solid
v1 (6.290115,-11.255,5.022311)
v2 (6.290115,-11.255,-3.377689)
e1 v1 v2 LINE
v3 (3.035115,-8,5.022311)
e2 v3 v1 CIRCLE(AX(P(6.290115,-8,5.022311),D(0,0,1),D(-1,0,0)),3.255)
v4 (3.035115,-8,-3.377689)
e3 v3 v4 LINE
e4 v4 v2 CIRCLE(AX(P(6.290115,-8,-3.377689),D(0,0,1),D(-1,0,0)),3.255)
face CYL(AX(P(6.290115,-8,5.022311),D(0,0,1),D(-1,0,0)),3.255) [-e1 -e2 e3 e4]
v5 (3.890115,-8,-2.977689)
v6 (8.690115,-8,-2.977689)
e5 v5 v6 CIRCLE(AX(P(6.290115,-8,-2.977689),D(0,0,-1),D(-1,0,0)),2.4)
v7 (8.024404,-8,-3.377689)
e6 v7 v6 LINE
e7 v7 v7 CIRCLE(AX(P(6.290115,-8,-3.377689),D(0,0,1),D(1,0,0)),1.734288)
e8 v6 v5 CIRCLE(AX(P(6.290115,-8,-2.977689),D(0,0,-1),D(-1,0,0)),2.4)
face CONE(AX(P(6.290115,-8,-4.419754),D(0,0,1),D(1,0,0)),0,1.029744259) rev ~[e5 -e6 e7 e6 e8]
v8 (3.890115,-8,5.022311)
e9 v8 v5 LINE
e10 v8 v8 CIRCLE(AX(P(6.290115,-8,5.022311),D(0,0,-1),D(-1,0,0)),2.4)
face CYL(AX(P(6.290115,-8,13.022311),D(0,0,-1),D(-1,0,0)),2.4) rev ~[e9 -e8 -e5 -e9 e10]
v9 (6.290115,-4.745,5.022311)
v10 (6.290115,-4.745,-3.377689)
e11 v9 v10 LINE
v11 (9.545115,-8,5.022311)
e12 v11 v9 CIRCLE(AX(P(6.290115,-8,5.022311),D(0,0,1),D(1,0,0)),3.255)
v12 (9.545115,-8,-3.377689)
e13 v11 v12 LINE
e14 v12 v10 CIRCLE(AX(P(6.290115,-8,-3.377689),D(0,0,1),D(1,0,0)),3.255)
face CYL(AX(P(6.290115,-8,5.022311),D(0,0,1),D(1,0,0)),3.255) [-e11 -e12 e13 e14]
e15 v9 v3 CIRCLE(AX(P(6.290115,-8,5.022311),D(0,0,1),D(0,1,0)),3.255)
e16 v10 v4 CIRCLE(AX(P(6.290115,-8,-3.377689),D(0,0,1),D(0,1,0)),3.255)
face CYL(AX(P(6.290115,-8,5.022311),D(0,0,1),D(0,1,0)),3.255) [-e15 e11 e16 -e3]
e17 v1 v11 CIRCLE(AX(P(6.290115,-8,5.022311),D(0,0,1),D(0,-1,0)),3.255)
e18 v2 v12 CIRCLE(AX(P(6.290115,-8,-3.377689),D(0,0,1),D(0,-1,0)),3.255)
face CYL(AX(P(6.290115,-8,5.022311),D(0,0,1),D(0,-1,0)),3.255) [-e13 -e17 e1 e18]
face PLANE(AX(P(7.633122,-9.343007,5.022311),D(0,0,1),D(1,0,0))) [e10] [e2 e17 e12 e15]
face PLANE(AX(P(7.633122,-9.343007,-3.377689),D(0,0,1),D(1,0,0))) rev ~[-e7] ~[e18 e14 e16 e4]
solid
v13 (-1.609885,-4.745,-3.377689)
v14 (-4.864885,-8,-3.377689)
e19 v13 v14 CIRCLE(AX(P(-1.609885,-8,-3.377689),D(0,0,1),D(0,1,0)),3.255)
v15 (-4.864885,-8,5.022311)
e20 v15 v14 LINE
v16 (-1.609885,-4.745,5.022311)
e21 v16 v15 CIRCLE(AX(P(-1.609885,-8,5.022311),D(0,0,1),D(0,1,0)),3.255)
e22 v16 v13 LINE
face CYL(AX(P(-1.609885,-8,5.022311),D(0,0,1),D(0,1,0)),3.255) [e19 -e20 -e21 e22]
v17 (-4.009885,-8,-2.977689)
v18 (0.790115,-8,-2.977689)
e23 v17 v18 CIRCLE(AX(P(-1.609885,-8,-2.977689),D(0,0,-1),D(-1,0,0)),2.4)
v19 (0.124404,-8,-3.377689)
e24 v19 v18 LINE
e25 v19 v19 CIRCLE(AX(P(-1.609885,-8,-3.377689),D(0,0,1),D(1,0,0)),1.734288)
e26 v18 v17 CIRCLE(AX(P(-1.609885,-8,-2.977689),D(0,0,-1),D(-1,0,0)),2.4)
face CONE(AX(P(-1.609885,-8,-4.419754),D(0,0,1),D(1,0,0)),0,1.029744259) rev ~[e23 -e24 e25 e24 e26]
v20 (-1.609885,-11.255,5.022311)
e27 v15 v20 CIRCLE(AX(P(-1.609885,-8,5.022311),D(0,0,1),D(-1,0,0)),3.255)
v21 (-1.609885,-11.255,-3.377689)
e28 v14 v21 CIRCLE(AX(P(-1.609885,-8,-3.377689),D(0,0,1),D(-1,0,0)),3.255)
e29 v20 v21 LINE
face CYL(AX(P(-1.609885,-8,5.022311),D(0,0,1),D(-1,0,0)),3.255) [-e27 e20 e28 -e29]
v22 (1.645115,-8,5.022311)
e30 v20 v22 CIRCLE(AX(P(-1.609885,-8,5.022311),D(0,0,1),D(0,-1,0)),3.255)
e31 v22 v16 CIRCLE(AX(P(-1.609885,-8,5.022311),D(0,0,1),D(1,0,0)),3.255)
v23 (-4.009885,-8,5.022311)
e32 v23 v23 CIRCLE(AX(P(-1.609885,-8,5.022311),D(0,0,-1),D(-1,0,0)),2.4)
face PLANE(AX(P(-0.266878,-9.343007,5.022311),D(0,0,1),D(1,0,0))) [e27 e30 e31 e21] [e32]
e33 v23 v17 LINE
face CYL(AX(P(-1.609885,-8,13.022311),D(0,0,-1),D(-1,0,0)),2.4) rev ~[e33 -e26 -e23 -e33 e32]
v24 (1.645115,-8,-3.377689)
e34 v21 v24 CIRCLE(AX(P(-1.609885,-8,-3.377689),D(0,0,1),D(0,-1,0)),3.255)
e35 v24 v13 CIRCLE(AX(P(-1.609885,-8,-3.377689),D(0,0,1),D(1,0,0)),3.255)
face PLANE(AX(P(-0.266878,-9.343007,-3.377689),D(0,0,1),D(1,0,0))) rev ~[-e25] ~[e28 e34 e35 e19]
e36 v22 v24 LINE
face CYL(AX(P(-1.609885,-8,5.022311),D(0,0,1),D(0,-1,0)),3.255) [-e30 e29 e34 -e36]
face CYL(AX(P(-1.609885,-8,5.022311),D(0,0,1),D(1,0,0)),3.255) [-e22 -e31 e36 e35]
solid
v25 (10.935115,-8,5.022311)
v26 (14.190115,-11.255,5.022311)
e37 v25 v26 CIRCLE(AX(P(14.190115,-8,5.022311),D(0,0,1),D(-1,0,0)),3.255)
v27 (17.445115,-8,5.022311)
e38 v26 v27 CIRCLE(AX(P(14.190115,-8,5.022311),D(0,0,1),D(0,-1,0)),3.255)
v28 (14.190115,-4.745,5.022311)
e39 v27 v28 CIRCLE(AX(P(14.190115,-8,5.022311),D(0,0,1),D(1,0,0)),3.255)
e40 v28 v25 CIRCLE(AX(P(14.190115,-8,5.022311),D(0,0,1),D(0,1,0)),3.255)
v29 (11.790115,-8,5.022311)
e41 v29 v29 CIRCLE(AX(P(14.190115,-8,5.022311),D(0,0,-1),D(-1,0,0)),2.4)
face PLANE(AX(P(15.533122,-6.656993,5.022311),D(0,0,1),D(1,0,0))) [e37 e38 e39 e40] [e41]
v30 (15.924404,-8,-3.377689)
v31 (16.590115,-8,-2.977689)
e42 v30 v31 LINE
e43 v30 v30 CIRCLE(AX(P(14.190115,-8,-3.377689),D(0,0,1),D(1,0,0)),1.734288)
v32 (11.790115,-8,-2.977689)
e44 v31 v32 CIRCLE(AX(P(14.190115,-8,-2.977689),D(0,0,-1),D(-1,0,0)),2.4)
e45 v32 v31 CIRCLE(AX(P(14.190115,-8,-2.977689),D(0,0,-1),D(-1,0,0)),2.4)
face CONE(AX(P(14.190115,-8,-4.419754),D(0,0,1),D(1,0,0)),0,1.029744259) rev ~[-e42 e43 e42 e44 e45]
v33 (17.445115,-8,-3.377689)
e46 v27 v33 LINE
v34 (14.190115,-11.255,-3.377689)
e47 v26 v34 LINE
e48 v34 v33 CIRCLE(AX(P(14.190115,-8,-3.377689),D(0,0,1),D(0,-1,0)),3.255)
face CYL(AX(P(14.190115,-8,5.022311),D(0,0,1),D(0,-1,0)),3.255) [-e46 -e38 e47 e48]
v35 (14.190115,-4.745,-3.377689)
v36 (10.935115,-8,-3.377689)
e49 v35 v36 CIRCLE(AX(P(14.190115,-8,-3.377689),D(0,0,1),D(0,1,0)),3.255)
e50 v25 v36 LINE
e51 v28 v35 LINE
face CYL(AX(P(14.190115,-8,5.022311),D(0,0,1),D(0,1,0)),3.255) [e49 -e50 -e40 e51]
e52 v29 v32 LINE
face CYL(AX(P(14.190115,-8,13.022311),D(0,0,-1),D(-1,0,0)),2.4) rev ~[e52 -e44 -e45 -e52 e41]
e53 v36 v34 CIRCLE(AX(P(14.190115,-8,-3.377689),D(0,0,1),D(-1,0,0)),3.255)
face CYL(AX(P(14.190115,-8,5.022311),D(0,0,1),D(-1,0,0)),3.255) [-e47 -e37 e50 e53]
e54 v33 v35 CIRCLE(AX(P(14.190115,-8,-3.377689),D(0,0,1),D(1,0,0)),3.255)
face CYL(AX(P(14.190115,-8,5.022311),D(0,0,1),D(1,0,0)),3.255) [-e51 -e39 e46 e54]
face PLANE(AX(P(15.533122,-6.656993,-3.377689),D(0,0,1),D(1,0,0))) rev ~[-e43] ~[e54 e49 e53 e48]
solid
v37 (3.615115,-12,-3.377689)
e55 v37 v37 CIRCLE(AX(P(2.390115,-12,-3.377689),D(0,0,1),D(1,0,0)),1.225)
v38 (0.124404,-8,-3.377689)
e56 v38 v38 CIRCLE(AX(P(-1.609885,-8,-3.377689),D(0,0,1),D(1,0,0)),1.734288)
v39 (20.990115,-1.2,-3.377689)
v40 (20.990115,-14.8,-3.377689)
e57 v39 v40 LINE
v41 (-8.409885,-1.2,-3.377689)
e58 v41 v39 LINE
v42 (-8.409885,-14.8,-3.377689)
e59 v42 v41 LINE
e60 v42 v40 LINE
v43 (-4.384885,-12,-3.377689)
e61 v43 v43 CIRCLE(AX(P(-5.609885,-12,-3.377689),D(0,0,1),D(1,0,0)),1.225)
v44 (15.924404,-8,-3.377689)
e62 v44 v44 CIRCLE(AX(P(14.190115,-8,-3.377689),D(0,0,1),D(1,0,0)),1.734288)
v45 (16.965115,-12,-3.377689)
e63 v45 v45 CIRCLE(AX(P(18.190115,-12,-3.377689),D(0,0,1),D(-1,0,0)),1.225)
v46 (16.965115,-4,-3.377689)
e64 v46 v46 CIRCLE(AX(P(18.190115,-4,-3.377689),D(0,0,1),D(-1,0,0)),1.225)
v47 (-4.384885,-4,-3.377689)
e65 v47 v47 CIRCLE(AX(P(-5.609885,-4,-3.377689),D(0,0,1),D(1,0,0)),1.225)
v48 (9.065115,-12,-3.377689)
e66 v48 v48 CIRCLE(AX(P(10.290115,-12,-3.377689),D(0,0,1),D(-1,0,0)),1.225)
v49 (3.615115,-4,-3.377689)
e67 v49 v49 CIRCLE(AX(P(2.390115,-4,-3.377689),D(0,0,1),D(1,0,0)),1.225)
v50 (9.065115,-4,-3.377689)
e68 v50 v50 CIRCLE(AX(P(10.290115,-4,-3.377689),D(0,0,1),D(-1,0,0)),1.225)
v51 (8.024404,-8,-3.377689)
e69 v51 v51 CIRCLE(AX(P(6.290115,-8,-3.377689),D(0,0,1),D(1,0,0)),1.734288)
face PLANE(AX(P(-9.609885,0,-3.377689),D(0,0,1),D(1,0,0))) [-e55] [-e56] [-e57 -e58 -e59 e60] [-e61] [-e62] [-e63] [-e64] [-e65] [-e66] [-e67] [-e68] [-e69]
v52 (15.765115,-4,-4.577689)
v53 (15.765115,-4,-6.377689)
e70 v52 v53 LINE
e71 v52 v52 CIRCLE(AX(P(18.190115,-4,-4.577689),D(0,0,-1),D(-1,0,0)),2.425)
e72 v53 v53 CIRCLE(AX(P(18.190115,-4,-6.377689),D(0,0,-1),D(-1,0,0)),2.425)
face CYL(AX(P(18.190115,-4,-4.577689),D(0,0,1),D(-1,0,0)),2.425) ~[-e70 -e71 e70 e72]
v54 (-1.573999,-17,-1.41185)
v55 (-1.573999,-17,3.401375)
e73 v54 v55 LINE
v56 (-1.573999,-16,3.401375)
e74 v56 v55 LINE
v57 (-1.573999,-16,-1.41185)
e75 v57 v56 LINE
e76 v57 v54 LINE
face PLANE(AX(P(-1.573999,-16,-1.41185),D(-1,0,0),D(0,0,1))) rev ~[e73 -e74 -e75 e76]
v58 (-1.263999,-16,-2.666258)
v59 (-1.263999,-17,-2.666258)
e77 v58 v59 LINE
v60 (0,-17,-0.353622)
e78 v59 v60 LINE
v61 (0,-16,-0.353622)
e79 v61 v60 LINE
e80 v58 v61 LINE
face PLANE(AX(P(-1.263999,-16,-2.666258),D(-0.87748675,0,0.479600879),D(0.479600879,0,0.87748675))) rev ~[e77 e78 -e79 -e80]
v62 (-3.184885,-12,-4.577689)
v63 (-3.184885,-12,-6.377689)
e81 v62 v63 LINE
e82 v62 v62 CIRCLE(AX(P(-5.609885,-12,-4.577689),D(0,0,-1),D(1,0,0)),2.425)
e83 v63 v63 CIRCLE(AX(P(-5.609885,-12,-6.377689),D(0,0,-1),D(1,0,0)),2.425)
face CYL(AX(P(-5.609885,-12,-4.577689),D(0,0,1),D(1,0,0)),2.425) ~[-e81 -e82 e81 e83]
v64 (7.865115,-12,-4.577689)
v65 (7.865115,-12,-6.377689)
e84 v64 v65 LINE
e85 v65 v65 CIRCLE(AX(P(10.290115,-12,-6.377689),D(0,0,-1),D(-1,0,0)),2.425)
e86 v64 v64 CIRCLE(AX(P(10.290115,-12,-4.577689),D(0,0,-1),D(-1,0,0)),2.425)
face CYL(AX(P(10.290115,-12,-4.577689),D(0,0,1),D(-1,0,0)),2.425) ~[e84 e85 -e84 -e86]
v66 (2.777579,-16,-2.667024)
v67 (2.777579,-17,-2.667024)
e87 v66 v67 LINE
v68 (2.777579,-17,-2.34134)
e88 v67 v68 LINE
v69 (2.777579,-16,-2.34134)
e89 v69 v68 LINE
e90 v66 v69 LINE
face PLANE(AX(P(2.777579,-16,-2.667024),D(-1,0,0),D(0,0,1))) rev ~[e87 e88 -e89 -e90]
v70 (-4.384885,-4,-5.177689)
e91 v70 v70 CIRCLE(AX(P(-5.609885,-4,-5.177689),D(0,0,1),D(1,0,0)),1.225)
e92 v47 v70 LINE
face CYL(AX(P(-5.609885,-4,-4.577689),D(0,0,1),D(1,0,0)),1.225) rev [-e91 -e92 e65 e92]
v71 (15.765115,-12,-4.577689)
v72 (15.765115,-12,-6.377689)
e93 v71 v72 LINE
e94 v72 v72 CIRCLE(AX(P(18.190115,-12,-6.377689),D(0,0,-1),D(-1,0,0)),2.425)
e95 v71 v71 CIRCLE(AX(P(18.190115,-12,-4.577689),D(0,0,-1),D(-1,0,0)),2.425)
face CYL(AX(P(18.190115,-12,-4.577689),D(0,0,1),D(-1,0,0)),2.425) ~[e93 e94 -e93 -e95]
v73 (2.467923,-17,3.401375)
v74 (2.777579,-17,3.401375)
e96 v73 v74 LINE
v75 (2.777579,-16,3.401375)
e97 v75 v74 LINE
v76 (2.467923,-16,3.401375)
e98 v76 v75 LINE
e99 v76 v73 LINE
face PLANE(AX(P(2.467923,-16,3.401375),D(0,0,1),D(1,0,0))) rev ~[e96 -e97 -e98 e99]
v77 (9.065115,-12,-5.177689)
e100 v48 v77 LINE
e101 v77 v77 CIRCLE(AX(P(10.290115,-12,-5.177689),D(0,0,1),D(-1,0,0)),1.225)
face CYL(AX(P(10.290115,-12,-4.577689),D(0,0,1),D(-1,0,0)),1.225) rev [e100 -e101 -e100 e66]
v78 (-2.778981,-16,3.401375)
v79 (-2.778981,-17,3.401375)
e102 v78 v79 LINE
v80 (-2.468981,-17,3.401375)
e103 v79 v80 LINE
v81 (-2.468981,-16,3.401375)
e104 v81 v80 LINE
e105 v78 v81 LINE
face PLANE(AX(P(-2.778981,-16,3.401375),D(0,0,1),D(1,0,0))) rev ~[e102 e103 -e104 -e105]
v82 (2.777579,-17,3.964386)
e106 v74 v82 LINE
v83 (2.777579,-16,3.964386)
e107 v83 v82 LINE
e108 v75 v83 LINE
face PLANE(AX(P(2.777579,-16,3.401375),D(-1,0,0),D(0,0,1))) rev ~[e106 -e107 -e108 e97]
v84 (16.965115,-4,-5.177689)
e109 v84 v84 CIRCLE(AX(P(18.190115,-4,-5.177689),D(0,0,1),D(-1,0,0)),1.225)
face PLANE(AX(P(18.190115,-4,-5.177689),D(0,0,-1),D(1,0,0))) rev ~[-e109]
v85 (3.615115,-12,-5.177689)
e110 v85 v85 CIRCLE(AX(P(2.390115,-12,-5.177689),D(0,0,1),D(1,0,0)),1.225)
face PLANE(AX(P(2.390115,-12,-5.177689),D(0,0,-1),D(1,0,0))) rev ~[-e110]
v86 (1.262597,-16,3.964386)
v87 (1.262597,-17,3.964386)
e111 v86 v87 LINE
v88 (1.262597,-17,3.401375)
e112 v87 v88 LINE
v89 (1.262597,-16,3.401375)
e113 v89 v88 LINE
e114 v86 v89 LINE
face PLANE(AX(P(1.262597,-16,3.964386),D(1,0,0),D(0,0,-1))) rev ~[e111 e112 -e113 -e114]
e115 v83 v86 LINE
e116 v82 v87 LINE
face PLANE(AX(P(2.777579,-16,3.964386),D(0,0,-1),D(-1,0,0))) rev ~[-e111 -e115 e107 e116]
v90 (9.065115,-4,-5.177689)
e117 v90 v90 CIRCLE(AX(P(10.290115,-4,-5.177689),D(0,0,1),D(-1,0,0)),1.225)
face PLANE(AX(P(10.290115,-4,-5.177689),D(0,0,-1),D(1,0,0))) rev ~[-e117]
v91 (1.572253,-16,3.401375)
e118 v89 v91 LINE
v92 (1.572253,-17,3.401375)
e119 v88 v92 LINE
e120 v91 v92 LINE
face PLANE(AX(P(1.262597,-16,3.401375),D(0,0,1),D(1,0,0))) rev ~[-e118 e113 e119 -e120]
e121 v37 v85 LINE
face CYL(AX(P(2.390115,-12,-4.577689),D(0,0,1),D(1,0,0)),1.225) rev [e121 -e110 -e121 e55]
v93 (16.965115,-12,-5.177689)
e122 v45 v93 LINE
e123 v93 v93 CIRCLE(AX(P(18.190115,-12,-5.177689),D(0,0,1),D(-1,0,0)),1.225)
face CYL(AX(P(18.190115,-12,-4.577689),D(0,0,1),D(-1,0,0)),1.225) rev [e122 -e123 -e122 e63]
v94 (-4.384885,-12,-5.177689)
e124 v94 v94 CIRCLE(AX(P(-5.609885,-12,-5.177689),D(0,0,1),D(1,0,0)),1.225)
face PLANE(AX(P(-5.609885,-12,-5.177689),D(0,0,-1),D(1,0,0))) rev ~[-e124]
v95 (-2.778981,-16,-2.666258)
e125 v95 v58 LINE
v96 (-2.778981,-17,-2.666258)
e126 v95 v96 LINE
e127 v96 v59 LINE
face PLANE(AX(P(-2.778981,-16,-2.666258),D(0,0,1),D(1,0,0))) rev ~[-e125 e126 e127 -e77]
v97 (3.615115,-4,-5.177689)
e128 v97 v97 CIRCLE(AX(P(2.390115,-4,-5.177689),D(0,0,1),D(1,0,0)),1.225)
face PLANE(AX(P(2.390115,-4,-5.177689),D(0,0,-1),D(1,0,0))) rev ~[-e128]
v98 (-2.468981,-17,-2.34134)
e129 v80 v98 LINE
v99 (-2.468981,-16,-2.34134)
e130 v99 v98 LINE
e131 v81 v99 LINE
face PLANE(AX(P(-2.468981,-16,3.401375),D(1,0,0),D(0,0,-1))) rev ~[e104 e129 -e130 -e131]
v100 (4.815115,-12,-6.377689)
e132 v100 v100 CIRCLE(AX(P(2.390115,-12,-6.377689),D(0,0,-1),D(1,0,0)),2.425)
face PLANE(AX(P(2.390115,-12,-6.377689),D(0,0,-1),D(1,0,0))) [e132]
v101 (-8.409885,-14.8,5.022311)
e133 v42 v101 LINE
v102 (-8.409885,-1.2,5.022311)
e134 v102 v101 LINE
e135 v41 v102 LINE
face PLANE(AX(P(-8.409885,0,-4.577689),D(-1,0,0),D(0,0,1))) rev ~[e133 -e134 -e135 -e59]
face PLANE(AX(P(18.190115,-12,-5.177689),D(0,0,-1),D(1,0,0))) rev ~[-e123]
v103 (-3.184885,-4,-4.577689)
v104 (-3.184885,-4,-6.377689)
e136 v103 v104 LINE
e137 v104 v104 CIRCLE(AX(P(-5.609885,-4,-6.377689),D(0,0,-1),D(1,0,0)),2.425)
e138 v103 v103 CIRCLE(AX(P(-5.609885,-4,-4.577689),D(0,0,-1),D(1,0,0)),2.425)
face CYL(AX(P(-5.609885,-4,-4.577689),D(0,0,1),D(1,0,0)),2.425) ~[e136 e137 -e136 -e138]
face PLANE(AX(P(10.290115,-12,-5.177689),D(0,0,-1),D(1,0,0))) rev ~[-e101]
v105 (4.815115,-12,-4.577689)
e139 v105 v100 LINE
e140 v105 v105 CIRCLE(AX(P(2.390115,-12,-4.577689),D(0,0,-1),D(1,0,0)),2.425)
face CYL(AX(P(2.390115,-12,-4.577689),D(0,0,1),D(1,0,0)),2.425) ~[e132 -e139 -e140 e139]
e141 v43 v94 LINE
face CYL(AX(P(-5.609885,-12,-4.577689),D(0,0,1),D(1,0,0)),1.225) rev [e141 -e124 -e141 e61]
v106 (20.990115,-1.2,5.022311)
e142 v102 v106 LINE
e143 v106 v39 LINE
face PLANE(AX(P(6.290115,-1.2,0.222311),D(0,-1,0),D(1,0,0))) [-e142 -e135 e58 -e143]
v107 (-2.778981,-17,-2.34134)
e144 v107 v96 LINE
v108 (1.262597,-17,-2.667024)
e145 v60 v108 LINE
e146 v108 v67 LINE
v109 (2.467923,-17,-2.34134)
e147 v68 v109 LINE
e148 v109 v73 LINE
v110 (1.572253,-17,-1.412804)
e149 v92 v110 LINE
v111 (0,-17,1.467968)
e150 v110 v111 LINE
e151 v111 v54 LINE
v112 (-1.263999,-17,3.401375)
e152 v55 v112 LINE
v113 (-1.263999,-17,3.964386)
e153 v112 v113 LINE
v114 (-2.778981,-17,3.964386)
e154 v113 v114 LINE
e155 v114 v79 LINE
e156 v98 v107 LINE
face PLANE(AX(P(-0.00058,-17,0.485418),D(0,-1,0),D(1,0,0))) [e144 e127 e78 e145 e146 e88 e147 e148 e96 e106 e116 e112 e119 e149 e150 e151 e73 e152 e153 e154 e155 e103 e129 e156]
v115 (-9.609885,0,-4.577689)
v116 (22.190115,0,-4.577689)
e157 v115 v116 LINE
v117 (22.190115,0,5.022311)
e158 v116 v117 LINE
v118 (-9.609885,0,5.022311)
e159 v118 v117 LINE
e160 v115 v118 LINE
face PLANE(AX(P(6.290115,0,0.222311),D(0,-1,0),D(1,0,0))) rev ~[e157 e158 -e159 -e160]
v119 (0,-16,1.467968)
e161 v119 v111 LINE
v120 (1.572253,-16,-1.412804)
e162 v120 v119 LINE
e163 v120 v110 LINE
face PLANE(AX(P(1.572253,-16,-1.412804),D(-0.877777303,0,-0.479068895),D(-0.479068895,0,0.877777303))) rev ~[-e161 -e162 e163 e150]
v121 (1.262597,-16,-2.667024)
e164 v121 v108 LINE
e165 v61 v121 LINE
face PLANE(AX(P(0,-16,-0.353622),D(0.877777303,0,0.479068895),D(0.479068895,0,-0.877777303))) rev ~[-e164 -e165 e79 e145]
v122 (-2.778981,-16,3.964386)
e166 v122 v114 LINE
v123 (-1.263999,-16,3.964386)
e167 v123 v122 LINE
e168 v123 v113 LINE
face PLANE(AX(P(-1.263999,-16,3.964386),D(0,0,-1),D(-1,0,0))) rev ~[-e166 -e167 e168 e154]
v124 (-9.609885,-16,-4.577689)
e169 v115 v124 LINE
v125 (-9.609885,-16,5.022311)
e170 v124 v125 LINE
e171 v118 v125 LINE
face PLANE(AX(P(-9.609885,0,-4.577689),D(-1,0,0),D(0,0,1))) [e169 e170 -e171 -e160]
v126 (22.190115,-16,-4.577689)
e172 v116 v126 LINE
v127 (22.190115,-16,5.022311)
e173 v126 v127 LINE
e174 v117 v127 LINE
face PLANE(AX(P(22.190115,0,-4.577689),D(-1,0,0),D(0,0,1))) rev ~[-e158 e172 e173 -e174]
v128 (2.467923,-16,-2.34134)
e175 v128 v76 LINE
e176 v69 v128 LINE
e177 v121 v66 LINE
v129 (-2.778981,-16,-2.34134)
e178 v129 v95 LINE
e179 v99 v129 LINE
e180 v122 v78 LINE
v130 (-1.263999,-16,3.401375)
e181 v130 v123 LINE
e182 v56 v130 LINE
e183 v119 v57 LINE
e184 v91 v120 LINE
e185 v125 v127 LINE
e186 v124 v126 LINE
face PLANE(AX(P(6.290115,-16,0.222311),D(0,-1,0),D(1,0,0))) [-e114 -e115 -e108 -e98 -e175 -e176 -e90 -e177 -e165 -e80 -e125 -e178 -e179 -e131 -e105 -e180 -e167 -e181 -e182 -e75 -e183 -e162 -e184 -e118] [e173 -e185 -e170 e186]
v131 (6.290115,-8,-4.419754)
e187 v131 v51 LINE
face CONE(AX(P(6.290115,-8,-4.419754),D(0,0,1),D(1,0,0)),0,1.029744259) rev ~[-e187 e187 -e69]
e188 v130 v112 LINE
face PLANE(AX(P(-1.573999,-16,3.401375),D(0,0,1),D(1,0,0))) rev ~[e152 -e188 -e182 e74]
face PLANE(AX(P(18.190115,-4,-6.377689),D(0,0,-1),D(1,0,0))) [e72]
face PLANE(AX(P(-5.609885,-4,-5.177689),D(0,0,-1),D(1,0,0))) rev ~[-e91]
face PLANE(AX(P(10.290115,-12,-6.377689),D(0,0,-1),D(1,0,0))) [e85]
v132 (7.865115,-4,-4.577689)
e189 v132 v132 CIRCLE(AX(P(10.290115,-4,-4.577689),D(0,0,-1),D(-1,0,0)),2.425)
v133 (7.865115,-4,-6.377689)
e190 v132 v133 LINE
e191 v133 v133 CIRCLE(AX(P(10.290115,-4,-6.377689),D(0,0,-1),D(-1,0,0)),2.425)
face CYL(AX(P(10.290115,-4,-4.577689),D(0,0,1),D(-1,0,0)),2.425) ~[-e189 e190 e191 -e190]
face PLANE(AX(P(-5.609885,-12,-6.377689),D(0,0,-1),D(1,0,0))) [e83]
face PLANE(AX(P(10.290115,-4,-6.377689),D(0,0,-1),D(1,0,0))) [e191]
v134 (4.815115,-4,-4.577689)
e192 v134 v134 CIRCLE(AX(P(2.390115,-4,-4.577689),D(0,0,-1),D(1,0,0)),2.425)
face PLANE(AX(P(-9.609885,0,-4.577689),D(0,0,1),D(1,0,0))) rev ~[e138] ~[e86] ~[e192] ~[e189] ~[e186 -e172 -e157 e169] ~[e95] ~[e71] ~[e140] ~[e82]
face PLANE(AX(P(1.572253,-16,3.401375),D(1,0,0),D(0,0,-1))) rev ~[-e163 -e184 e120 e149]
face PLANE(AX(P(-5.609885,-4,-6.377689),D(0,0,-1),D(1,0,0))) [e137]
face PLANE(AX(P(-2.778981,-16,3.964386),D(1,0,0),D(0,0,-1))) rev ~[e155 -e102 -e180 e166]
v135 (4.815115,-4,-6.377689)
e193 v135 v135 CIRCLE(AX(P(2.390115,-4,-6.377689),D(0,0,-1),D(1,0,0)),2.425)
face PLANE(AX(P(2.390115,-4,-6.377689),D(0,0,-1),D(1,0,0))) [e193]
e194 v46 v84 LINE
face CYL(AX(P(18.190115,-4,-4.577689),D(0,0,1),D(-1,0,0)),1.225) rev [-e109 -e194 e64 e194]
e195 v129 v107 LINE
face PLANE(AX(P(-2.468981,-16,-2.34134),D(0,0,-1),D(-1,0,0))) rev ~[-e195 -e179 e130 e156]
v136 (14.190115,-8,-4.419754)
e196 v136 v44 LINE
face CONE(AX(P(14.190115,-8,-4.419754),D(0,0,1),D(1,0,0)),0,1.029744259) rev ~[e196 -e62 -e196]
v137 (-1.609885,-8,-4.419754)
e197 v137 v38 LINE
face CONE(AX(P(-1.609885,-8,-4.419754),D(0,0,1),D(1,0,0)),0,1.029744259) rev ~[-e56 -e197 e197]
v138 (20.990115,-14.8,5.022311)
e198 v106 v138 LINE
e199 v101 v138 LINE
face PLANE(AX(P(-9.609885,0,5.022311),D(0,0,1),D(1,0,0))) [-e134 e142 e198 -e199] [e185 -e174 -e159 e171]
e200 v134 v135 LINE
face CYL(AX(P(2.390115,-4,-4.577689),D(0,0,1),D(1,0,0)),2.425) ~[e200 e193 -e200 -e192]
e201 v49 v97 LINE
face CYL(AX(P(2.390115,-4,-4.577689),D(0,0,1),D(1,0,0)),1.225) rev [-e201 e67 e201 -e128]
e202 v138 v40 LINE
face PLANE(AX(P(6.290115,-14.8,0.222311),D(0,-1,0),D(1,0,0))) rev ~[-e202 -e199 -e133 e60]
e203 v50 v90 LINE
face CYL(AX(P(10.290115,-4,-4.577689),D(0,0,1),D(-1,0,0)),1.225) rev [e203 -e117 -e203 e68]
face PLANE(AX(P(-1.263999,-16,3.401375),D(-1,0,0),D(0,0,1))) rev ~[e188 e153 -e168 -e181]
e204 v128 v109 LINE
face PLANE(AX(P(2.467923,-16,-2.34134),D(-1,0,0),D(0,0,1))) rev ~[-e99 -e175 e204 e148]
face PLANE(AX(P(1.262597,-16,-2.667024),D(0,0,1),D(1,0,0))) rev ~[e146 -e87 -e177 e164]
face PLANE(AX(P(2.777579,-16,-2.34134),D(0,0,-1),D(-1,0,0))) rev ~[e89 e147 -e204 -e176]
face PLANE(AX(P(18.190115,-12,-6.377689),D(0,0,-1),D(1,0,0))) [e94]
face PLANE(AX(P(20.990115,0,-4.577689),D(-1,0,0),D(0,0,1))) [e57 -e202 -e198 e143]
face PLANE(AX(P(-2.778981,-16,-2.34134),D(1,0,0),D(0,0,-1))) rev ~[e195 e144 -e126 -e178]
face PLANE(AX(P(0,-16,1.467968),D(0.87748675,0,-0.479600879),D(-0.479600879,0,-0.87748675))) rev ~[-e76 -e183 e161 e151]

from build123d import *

# Parameters (mm, degrees)
F0_W       = 31.8
F0_H       = 9.6
F1_DEPTH   = 16
F3_DEPTH   = 1.8
F5_T       = -1.2
F6_DEPTH   = 8.4
F7_D       = 4.8
F7_DEPTH   = 8
F7_TIP     = 1.4420654857
F7_2_D     = 4.8
F7_2_DEPTH = 8
F7_2_TIP   = 1.4420654857
F8_D       = 4.8
F8_DEPTH   = 8
F8_TIP     = 1.4420654857
F8_2_D     = 4.8
F8_2_DEPTH = 8
F8_2_TIP   = 1.4420654857
F9_D       = 4.8
F9_DEPTH   = 8
F9_TIP     = 1.4420654857
F9_2_D     = 4.8
F9_2_DEPTH = 8
F9_2_TIP   = 1.4420654857
F11_DEPTH  = 1


with BuildPart() as f1:
    # F0 (on Front) → F1 (new body)
    with BuildSketch(Plane.XZ):
        with Locations((6.290115416, 0.2223112665)):
            Rectangle(F0_W, F0_H)
    extrude(amount=F1_DEPTH)

    # F2 (on face) → F3 (join)
    with BuildSketch(Plane(origin=(0, 0, -4.5776887335), x_dir=(1, 0, 0), z_dir=(0, 0, -1))):
        with BuildLine():
            ThreePointArc((20.615115416, 4), (18.190115416, 6.425), (15.765115416, 4))
            ThreePointArc((15.765115416, 4), (18.190115416, 1.575), (20.615115416, 4))
        make_face()
        with BuildLine():
            ThreePointArc((12.715115416, 4), (10.290115416, 6.425), (7.865115416, 4))
            ThreePointArc((7.865115416, 4), (10.290115416, 1.575), (12.715115416, 4))
        make_face()
        with BuildLine():
            ThreePointArc((-0.034884584, 4), (2.390115416, 1.575), (4.815115416, 4))
            ThreePointArc((4.815115416, 4), (2.390115416, 6.425), (-0.034884584, 4))
        make_face()
        with BuildLine():
            ThreePointArc((-8.034884584, 4), (-5.609884584, 1.575), (-3.184884584, 4))
            ThreePointArc((-3.184884584, 4), (-5.609884584, 6.425), (-8.034884584, 4))
        make_face()
        with BuildLine():
            ThreePointArc((-8.034884584, 12), (-5.609884584, 9.575), (-3.184884584, 12))
            ThreePointArc((-3.184884584, 12), (-5.609884584, 14.425), (-8.034884584, 12))
        make_face()
        with BuildLine():
            ThreePointArc((-0.034884584, 12), (2.390115416, 9.575), (4.815115416, 12))
            ThreePointArc((4.815115416, 12), (2.390115416, 14.425), (-0.034884584, 12))
        make_face()
        with BuildLine():
            ThreePointArc((12.715115416, 12), (10.290115416, 14.425), (7.865115416, 12))
            ThreePointArc((7.865115416, 12), (10.290115416, 9.575), (12.715115416, 12))
        make_face()
        with BuildLine():
            ThreePointArc((20.615115416, 12), (18.190115416, 14.425), (15.765115416, 12))
            ThreePointArc((15.765115416, 12), (18.190115416, 9.575), (20.615115416, 12))
        make_face()
    extrude(amount=F3_DEPTH)

    # F5
    f5_openings = [f1.faces().sort_by_distance(p)[0] for p in [
        (6.290115, -8, 5.022311),
    ]]
    offset(amount=F5_T, openings=f5_openings, kind=Kind.INTERSECTION)

    # F7
    with Locations(Plane.XY.offset(5.0223112665)):
        with Locations((14.190115416, -8)):
            Hole(F7_D / 2, depth=F7_DEPTH)
            with Locations((0, 0, -(F7_DEPTH + F7_TIP / 2))):  # 118° drill point
                Cone(0, F7_D / 2, F7_TIP, mode=Mode.SUBTRACT)

    # F8
    with Locations(Plane.XY.offset(5.0223112665)):
        with Locations((6.290115416, -8)):
            Hole(F8_D / 2, depth=F8_DEPTH)
            with Locations((0, 0, -(F8_DEPTH + F8_TIP / 2))):  # 118° drill point
                Cone(0, F8_D / 2, F8_TIP, mode=Mode.SUBTRACT)

    # F9
    with Locations(Plane.XY.offset(5.0223112665)):
        with Locations((-1.609884584, -8)):
            Hole(F9_D / 2, depth=F9_DEPTH)
            with Locations((0, 0, -(F9_DEPTH + F9_TIP / 2))):  # 118° drill point
                Cone(0, F9_D / 2, F9_TIP, mode=Mode.SUBTRACT)

    # F10 (on face) → F11 (join)
    with BuildSketch(Plane.XZ.offset(16)):
        Polygon((2.7775790172, 3.9643859491), (1.2625969494, 3.9643859491), (1.2625969494, 3.4013746772), (1.5722530907, 3.4013746772), (1.5722530907, -1.4128037233), (0, 1.4679678955), (-1.5739990043, -1.4118501604), (-1.5739990043, 3.4013746772), (-1.2639990043, 3.4013746772), (-1.2639990043, 3.9643859491), (-2.7789810721, 3.9643859491), (-2.7789810721, 3.4013746772), (-2.4689810721, 3.4013746772), (-2.4689810721, -2.3413395975), (-2.7789810721, -2.3413395975), (-2.7789810721, -2.6662578203), (-1.2639990043, -2.6662578203), (0, -0.35362157), (1.2625969494, -2.6670235784), (2.7775790172, -2.6670235784), (2.7775790172, -2.3413395975), (2.4679228758, -2.3413395975), (2.4679228758, 3.4013746772), (2.7775790172, 3.4013746772), align=None)
    extrude(amount=F11_DEPTH)


with BuildPart() as f6:
    # F4 (on face) → F6 (new body)
    with BuildSketch(Plane.XY.offset(5.0223112665)):
        with BuildLine():
            ThreePointArc((17.445115416, -8), (16.4917479888, -5.6983674272), (14.190115416, -4.745))
            Line((14.190115416, -4.745), (14.190115416, -8))
            Line((14.190115416, -8), (17.445115416, -8))
        make_face()
        with BuildLine():
            Line((17.445115416, -8), (14.190115416, -8))
            Line((14.190115416, -8), (14.190115416, -11.255))
            ThreePointArc((14.190115416, -11.255), (16.4917479888, -10.3016325728), (17.445115416, -8))
        make_face()
        with BuildLine():
            Line((14.190115416, -8), (10.935115416, -8))
            ThreePointArc((10.935115416, -8), (11.8884828433, -10.3016325728), (14.190115416, -11.255))
            Line((14.190115416, -11.255), (14.190115416, -8))
        make_face()
        with BuildLine():
            Line((14.190115416, -8), (14.190115416, -4.745))
            ThreePointArc((14.190115416, -4.745), (11.8884828433, -5.6983674272), (10.935115416, -8))
            Line((10.935115416, -8), (14.190115416, -8))
        make_face()
    extrude(amount=-F6_DEPTH)

    # F7#2
    with Locations(Plane.XY.offset(5.0223112665)):
        with Locations((14.190115416, -8)):
            Hole(F7_2_D / 2, depth=F7_2_DEPTH)
            with Locations((0, 0, -(F7_2_DEPTH + F7_2_TIP / 2))):  # 118° drill point
                Cone(0, F7_2_D / 2, F7_2_TIP, mode=Mode.SUBTRACT)


with BuildPart() as f6b:
    # F4 (on face) → F6, piece 2 (new body)
    with BuildSketch(Plane.XY.offset(5.0223112665)):
        with BuildLine():
            Line((9.545115416, -8), (6.290115416, -8))
            Line((6.290115416, -8), (6.290115416, -11.255))
            ThreePointArc((6.290115416, -11.255), (8.5917479888, -10.3016325728), (9.545115416, -8))
        make_face()
        with BuildLine():
            Line((6.290115416, -11.255), (6.290115416, -8))
            Line((6.290115416, -8), (3.035115416, -8))
            ThreePointArc((3.035115416, -8), (3.9884828433, -10.3016325728), (6.290115416, -11.255))
        make_face()
        with BuildLine():
            Line((6.290115416, -8), (6.290115416, -4.745))
            ThreePointArc((6.290115416, -4.745), (3.9884828433, -5.6983674272), (3.035115416, -8))
            Line((3.035115416, -8), (6.290115416, -8))
        make_face()
        with BuildLine():
            ThreePointArc((9.545115416, -8), (8.5917479888, -5.6983674272), (6.290115416, -4.745))
            Line((6.290115416, -4.745), (6.290115416, -8))
            Line((6.290115416, -8), (9.545115416, -8))
        make_face()
    extrude(amount=-F6_DEPTH)

    # F8#2
    with Locations(Plane.XY.offset(5.0223112665)):
        with Locations((6.290115416, -8)):
            Hole(F8_2_D / 2, depth=F8_2_DEPTH)
            with Locations((0, 0, -(F8_2_DEPTH + F8_2_TIP / 2))):  # 118° drill point
                Cone(0, F8_2_D / 2, F8_2_TIP, mode=Mode.SUBTRACT)


with BuildPart() as f6c:
    # F4 (on face) → F6, piece 3 (new body)
    with BuildSketch(Plane.XY.offset(5.0223112665)):
        with BuildLine():
            ThreePointArc((-1.609884584, -11.255), (0.6917479888, -10.3016325728), (1.645115416, -8))
            Line((1.645115416, -8), (-1.609884584, -8))
            Line((-1.609884584, -8), (-1.609884584, -11.255))
        make_face()
        with BuildLine():
            Line((-1.609884584, -11.255), (-1.609884584, -8))
            Line((-1.609884584, -8), (-4.864884584, -8))
            ThreePointArc((-4.864884584, -8), (-3.9115171567, -10.3016325728), (-1.609884584, -11.255))
        make_face()
        with BuildLine():
            Line((-1.609884584, -8), (-1.609884584, -4.745))
            ThreePointArc((-1.609884584, -4.745), (-3.9115171567, -5.6983674272), (-4.864884584, -8))
            Line((-4.864884584, -8), (-1.609884584, -8))
        make_face()
        with BuildLine():
            ThreePointArc((1.645115416, -8), (0.6917479888, -5.6983674272), (-1.609884584, -4.745))
            Line((-1.609884584, -4.745), (-1.609884584, -8))
            Line((-1.609884584, -8), (1.645115416, -8))
        make_face()
    extrude(amount=-F6_DEPTH)

    # F9#2
    with Locations(Plane.XY.offset(5.0223112665)):
        with Locations((-1.609884584, -8)):
            Hole(F9_2_D / 2, depth=F9_2_DEPTH)
            with Locations((0, 0, -(F9_2_DEPTH + F9_2_TIP / 2))):  # 118° drill point
                Cone(0, F9_2_D / 2, F9_2_TIP, mode=Mode.SUBTRACT)


solid = Compound([f1.part, f6.part, f6b.part, f6c.part])
